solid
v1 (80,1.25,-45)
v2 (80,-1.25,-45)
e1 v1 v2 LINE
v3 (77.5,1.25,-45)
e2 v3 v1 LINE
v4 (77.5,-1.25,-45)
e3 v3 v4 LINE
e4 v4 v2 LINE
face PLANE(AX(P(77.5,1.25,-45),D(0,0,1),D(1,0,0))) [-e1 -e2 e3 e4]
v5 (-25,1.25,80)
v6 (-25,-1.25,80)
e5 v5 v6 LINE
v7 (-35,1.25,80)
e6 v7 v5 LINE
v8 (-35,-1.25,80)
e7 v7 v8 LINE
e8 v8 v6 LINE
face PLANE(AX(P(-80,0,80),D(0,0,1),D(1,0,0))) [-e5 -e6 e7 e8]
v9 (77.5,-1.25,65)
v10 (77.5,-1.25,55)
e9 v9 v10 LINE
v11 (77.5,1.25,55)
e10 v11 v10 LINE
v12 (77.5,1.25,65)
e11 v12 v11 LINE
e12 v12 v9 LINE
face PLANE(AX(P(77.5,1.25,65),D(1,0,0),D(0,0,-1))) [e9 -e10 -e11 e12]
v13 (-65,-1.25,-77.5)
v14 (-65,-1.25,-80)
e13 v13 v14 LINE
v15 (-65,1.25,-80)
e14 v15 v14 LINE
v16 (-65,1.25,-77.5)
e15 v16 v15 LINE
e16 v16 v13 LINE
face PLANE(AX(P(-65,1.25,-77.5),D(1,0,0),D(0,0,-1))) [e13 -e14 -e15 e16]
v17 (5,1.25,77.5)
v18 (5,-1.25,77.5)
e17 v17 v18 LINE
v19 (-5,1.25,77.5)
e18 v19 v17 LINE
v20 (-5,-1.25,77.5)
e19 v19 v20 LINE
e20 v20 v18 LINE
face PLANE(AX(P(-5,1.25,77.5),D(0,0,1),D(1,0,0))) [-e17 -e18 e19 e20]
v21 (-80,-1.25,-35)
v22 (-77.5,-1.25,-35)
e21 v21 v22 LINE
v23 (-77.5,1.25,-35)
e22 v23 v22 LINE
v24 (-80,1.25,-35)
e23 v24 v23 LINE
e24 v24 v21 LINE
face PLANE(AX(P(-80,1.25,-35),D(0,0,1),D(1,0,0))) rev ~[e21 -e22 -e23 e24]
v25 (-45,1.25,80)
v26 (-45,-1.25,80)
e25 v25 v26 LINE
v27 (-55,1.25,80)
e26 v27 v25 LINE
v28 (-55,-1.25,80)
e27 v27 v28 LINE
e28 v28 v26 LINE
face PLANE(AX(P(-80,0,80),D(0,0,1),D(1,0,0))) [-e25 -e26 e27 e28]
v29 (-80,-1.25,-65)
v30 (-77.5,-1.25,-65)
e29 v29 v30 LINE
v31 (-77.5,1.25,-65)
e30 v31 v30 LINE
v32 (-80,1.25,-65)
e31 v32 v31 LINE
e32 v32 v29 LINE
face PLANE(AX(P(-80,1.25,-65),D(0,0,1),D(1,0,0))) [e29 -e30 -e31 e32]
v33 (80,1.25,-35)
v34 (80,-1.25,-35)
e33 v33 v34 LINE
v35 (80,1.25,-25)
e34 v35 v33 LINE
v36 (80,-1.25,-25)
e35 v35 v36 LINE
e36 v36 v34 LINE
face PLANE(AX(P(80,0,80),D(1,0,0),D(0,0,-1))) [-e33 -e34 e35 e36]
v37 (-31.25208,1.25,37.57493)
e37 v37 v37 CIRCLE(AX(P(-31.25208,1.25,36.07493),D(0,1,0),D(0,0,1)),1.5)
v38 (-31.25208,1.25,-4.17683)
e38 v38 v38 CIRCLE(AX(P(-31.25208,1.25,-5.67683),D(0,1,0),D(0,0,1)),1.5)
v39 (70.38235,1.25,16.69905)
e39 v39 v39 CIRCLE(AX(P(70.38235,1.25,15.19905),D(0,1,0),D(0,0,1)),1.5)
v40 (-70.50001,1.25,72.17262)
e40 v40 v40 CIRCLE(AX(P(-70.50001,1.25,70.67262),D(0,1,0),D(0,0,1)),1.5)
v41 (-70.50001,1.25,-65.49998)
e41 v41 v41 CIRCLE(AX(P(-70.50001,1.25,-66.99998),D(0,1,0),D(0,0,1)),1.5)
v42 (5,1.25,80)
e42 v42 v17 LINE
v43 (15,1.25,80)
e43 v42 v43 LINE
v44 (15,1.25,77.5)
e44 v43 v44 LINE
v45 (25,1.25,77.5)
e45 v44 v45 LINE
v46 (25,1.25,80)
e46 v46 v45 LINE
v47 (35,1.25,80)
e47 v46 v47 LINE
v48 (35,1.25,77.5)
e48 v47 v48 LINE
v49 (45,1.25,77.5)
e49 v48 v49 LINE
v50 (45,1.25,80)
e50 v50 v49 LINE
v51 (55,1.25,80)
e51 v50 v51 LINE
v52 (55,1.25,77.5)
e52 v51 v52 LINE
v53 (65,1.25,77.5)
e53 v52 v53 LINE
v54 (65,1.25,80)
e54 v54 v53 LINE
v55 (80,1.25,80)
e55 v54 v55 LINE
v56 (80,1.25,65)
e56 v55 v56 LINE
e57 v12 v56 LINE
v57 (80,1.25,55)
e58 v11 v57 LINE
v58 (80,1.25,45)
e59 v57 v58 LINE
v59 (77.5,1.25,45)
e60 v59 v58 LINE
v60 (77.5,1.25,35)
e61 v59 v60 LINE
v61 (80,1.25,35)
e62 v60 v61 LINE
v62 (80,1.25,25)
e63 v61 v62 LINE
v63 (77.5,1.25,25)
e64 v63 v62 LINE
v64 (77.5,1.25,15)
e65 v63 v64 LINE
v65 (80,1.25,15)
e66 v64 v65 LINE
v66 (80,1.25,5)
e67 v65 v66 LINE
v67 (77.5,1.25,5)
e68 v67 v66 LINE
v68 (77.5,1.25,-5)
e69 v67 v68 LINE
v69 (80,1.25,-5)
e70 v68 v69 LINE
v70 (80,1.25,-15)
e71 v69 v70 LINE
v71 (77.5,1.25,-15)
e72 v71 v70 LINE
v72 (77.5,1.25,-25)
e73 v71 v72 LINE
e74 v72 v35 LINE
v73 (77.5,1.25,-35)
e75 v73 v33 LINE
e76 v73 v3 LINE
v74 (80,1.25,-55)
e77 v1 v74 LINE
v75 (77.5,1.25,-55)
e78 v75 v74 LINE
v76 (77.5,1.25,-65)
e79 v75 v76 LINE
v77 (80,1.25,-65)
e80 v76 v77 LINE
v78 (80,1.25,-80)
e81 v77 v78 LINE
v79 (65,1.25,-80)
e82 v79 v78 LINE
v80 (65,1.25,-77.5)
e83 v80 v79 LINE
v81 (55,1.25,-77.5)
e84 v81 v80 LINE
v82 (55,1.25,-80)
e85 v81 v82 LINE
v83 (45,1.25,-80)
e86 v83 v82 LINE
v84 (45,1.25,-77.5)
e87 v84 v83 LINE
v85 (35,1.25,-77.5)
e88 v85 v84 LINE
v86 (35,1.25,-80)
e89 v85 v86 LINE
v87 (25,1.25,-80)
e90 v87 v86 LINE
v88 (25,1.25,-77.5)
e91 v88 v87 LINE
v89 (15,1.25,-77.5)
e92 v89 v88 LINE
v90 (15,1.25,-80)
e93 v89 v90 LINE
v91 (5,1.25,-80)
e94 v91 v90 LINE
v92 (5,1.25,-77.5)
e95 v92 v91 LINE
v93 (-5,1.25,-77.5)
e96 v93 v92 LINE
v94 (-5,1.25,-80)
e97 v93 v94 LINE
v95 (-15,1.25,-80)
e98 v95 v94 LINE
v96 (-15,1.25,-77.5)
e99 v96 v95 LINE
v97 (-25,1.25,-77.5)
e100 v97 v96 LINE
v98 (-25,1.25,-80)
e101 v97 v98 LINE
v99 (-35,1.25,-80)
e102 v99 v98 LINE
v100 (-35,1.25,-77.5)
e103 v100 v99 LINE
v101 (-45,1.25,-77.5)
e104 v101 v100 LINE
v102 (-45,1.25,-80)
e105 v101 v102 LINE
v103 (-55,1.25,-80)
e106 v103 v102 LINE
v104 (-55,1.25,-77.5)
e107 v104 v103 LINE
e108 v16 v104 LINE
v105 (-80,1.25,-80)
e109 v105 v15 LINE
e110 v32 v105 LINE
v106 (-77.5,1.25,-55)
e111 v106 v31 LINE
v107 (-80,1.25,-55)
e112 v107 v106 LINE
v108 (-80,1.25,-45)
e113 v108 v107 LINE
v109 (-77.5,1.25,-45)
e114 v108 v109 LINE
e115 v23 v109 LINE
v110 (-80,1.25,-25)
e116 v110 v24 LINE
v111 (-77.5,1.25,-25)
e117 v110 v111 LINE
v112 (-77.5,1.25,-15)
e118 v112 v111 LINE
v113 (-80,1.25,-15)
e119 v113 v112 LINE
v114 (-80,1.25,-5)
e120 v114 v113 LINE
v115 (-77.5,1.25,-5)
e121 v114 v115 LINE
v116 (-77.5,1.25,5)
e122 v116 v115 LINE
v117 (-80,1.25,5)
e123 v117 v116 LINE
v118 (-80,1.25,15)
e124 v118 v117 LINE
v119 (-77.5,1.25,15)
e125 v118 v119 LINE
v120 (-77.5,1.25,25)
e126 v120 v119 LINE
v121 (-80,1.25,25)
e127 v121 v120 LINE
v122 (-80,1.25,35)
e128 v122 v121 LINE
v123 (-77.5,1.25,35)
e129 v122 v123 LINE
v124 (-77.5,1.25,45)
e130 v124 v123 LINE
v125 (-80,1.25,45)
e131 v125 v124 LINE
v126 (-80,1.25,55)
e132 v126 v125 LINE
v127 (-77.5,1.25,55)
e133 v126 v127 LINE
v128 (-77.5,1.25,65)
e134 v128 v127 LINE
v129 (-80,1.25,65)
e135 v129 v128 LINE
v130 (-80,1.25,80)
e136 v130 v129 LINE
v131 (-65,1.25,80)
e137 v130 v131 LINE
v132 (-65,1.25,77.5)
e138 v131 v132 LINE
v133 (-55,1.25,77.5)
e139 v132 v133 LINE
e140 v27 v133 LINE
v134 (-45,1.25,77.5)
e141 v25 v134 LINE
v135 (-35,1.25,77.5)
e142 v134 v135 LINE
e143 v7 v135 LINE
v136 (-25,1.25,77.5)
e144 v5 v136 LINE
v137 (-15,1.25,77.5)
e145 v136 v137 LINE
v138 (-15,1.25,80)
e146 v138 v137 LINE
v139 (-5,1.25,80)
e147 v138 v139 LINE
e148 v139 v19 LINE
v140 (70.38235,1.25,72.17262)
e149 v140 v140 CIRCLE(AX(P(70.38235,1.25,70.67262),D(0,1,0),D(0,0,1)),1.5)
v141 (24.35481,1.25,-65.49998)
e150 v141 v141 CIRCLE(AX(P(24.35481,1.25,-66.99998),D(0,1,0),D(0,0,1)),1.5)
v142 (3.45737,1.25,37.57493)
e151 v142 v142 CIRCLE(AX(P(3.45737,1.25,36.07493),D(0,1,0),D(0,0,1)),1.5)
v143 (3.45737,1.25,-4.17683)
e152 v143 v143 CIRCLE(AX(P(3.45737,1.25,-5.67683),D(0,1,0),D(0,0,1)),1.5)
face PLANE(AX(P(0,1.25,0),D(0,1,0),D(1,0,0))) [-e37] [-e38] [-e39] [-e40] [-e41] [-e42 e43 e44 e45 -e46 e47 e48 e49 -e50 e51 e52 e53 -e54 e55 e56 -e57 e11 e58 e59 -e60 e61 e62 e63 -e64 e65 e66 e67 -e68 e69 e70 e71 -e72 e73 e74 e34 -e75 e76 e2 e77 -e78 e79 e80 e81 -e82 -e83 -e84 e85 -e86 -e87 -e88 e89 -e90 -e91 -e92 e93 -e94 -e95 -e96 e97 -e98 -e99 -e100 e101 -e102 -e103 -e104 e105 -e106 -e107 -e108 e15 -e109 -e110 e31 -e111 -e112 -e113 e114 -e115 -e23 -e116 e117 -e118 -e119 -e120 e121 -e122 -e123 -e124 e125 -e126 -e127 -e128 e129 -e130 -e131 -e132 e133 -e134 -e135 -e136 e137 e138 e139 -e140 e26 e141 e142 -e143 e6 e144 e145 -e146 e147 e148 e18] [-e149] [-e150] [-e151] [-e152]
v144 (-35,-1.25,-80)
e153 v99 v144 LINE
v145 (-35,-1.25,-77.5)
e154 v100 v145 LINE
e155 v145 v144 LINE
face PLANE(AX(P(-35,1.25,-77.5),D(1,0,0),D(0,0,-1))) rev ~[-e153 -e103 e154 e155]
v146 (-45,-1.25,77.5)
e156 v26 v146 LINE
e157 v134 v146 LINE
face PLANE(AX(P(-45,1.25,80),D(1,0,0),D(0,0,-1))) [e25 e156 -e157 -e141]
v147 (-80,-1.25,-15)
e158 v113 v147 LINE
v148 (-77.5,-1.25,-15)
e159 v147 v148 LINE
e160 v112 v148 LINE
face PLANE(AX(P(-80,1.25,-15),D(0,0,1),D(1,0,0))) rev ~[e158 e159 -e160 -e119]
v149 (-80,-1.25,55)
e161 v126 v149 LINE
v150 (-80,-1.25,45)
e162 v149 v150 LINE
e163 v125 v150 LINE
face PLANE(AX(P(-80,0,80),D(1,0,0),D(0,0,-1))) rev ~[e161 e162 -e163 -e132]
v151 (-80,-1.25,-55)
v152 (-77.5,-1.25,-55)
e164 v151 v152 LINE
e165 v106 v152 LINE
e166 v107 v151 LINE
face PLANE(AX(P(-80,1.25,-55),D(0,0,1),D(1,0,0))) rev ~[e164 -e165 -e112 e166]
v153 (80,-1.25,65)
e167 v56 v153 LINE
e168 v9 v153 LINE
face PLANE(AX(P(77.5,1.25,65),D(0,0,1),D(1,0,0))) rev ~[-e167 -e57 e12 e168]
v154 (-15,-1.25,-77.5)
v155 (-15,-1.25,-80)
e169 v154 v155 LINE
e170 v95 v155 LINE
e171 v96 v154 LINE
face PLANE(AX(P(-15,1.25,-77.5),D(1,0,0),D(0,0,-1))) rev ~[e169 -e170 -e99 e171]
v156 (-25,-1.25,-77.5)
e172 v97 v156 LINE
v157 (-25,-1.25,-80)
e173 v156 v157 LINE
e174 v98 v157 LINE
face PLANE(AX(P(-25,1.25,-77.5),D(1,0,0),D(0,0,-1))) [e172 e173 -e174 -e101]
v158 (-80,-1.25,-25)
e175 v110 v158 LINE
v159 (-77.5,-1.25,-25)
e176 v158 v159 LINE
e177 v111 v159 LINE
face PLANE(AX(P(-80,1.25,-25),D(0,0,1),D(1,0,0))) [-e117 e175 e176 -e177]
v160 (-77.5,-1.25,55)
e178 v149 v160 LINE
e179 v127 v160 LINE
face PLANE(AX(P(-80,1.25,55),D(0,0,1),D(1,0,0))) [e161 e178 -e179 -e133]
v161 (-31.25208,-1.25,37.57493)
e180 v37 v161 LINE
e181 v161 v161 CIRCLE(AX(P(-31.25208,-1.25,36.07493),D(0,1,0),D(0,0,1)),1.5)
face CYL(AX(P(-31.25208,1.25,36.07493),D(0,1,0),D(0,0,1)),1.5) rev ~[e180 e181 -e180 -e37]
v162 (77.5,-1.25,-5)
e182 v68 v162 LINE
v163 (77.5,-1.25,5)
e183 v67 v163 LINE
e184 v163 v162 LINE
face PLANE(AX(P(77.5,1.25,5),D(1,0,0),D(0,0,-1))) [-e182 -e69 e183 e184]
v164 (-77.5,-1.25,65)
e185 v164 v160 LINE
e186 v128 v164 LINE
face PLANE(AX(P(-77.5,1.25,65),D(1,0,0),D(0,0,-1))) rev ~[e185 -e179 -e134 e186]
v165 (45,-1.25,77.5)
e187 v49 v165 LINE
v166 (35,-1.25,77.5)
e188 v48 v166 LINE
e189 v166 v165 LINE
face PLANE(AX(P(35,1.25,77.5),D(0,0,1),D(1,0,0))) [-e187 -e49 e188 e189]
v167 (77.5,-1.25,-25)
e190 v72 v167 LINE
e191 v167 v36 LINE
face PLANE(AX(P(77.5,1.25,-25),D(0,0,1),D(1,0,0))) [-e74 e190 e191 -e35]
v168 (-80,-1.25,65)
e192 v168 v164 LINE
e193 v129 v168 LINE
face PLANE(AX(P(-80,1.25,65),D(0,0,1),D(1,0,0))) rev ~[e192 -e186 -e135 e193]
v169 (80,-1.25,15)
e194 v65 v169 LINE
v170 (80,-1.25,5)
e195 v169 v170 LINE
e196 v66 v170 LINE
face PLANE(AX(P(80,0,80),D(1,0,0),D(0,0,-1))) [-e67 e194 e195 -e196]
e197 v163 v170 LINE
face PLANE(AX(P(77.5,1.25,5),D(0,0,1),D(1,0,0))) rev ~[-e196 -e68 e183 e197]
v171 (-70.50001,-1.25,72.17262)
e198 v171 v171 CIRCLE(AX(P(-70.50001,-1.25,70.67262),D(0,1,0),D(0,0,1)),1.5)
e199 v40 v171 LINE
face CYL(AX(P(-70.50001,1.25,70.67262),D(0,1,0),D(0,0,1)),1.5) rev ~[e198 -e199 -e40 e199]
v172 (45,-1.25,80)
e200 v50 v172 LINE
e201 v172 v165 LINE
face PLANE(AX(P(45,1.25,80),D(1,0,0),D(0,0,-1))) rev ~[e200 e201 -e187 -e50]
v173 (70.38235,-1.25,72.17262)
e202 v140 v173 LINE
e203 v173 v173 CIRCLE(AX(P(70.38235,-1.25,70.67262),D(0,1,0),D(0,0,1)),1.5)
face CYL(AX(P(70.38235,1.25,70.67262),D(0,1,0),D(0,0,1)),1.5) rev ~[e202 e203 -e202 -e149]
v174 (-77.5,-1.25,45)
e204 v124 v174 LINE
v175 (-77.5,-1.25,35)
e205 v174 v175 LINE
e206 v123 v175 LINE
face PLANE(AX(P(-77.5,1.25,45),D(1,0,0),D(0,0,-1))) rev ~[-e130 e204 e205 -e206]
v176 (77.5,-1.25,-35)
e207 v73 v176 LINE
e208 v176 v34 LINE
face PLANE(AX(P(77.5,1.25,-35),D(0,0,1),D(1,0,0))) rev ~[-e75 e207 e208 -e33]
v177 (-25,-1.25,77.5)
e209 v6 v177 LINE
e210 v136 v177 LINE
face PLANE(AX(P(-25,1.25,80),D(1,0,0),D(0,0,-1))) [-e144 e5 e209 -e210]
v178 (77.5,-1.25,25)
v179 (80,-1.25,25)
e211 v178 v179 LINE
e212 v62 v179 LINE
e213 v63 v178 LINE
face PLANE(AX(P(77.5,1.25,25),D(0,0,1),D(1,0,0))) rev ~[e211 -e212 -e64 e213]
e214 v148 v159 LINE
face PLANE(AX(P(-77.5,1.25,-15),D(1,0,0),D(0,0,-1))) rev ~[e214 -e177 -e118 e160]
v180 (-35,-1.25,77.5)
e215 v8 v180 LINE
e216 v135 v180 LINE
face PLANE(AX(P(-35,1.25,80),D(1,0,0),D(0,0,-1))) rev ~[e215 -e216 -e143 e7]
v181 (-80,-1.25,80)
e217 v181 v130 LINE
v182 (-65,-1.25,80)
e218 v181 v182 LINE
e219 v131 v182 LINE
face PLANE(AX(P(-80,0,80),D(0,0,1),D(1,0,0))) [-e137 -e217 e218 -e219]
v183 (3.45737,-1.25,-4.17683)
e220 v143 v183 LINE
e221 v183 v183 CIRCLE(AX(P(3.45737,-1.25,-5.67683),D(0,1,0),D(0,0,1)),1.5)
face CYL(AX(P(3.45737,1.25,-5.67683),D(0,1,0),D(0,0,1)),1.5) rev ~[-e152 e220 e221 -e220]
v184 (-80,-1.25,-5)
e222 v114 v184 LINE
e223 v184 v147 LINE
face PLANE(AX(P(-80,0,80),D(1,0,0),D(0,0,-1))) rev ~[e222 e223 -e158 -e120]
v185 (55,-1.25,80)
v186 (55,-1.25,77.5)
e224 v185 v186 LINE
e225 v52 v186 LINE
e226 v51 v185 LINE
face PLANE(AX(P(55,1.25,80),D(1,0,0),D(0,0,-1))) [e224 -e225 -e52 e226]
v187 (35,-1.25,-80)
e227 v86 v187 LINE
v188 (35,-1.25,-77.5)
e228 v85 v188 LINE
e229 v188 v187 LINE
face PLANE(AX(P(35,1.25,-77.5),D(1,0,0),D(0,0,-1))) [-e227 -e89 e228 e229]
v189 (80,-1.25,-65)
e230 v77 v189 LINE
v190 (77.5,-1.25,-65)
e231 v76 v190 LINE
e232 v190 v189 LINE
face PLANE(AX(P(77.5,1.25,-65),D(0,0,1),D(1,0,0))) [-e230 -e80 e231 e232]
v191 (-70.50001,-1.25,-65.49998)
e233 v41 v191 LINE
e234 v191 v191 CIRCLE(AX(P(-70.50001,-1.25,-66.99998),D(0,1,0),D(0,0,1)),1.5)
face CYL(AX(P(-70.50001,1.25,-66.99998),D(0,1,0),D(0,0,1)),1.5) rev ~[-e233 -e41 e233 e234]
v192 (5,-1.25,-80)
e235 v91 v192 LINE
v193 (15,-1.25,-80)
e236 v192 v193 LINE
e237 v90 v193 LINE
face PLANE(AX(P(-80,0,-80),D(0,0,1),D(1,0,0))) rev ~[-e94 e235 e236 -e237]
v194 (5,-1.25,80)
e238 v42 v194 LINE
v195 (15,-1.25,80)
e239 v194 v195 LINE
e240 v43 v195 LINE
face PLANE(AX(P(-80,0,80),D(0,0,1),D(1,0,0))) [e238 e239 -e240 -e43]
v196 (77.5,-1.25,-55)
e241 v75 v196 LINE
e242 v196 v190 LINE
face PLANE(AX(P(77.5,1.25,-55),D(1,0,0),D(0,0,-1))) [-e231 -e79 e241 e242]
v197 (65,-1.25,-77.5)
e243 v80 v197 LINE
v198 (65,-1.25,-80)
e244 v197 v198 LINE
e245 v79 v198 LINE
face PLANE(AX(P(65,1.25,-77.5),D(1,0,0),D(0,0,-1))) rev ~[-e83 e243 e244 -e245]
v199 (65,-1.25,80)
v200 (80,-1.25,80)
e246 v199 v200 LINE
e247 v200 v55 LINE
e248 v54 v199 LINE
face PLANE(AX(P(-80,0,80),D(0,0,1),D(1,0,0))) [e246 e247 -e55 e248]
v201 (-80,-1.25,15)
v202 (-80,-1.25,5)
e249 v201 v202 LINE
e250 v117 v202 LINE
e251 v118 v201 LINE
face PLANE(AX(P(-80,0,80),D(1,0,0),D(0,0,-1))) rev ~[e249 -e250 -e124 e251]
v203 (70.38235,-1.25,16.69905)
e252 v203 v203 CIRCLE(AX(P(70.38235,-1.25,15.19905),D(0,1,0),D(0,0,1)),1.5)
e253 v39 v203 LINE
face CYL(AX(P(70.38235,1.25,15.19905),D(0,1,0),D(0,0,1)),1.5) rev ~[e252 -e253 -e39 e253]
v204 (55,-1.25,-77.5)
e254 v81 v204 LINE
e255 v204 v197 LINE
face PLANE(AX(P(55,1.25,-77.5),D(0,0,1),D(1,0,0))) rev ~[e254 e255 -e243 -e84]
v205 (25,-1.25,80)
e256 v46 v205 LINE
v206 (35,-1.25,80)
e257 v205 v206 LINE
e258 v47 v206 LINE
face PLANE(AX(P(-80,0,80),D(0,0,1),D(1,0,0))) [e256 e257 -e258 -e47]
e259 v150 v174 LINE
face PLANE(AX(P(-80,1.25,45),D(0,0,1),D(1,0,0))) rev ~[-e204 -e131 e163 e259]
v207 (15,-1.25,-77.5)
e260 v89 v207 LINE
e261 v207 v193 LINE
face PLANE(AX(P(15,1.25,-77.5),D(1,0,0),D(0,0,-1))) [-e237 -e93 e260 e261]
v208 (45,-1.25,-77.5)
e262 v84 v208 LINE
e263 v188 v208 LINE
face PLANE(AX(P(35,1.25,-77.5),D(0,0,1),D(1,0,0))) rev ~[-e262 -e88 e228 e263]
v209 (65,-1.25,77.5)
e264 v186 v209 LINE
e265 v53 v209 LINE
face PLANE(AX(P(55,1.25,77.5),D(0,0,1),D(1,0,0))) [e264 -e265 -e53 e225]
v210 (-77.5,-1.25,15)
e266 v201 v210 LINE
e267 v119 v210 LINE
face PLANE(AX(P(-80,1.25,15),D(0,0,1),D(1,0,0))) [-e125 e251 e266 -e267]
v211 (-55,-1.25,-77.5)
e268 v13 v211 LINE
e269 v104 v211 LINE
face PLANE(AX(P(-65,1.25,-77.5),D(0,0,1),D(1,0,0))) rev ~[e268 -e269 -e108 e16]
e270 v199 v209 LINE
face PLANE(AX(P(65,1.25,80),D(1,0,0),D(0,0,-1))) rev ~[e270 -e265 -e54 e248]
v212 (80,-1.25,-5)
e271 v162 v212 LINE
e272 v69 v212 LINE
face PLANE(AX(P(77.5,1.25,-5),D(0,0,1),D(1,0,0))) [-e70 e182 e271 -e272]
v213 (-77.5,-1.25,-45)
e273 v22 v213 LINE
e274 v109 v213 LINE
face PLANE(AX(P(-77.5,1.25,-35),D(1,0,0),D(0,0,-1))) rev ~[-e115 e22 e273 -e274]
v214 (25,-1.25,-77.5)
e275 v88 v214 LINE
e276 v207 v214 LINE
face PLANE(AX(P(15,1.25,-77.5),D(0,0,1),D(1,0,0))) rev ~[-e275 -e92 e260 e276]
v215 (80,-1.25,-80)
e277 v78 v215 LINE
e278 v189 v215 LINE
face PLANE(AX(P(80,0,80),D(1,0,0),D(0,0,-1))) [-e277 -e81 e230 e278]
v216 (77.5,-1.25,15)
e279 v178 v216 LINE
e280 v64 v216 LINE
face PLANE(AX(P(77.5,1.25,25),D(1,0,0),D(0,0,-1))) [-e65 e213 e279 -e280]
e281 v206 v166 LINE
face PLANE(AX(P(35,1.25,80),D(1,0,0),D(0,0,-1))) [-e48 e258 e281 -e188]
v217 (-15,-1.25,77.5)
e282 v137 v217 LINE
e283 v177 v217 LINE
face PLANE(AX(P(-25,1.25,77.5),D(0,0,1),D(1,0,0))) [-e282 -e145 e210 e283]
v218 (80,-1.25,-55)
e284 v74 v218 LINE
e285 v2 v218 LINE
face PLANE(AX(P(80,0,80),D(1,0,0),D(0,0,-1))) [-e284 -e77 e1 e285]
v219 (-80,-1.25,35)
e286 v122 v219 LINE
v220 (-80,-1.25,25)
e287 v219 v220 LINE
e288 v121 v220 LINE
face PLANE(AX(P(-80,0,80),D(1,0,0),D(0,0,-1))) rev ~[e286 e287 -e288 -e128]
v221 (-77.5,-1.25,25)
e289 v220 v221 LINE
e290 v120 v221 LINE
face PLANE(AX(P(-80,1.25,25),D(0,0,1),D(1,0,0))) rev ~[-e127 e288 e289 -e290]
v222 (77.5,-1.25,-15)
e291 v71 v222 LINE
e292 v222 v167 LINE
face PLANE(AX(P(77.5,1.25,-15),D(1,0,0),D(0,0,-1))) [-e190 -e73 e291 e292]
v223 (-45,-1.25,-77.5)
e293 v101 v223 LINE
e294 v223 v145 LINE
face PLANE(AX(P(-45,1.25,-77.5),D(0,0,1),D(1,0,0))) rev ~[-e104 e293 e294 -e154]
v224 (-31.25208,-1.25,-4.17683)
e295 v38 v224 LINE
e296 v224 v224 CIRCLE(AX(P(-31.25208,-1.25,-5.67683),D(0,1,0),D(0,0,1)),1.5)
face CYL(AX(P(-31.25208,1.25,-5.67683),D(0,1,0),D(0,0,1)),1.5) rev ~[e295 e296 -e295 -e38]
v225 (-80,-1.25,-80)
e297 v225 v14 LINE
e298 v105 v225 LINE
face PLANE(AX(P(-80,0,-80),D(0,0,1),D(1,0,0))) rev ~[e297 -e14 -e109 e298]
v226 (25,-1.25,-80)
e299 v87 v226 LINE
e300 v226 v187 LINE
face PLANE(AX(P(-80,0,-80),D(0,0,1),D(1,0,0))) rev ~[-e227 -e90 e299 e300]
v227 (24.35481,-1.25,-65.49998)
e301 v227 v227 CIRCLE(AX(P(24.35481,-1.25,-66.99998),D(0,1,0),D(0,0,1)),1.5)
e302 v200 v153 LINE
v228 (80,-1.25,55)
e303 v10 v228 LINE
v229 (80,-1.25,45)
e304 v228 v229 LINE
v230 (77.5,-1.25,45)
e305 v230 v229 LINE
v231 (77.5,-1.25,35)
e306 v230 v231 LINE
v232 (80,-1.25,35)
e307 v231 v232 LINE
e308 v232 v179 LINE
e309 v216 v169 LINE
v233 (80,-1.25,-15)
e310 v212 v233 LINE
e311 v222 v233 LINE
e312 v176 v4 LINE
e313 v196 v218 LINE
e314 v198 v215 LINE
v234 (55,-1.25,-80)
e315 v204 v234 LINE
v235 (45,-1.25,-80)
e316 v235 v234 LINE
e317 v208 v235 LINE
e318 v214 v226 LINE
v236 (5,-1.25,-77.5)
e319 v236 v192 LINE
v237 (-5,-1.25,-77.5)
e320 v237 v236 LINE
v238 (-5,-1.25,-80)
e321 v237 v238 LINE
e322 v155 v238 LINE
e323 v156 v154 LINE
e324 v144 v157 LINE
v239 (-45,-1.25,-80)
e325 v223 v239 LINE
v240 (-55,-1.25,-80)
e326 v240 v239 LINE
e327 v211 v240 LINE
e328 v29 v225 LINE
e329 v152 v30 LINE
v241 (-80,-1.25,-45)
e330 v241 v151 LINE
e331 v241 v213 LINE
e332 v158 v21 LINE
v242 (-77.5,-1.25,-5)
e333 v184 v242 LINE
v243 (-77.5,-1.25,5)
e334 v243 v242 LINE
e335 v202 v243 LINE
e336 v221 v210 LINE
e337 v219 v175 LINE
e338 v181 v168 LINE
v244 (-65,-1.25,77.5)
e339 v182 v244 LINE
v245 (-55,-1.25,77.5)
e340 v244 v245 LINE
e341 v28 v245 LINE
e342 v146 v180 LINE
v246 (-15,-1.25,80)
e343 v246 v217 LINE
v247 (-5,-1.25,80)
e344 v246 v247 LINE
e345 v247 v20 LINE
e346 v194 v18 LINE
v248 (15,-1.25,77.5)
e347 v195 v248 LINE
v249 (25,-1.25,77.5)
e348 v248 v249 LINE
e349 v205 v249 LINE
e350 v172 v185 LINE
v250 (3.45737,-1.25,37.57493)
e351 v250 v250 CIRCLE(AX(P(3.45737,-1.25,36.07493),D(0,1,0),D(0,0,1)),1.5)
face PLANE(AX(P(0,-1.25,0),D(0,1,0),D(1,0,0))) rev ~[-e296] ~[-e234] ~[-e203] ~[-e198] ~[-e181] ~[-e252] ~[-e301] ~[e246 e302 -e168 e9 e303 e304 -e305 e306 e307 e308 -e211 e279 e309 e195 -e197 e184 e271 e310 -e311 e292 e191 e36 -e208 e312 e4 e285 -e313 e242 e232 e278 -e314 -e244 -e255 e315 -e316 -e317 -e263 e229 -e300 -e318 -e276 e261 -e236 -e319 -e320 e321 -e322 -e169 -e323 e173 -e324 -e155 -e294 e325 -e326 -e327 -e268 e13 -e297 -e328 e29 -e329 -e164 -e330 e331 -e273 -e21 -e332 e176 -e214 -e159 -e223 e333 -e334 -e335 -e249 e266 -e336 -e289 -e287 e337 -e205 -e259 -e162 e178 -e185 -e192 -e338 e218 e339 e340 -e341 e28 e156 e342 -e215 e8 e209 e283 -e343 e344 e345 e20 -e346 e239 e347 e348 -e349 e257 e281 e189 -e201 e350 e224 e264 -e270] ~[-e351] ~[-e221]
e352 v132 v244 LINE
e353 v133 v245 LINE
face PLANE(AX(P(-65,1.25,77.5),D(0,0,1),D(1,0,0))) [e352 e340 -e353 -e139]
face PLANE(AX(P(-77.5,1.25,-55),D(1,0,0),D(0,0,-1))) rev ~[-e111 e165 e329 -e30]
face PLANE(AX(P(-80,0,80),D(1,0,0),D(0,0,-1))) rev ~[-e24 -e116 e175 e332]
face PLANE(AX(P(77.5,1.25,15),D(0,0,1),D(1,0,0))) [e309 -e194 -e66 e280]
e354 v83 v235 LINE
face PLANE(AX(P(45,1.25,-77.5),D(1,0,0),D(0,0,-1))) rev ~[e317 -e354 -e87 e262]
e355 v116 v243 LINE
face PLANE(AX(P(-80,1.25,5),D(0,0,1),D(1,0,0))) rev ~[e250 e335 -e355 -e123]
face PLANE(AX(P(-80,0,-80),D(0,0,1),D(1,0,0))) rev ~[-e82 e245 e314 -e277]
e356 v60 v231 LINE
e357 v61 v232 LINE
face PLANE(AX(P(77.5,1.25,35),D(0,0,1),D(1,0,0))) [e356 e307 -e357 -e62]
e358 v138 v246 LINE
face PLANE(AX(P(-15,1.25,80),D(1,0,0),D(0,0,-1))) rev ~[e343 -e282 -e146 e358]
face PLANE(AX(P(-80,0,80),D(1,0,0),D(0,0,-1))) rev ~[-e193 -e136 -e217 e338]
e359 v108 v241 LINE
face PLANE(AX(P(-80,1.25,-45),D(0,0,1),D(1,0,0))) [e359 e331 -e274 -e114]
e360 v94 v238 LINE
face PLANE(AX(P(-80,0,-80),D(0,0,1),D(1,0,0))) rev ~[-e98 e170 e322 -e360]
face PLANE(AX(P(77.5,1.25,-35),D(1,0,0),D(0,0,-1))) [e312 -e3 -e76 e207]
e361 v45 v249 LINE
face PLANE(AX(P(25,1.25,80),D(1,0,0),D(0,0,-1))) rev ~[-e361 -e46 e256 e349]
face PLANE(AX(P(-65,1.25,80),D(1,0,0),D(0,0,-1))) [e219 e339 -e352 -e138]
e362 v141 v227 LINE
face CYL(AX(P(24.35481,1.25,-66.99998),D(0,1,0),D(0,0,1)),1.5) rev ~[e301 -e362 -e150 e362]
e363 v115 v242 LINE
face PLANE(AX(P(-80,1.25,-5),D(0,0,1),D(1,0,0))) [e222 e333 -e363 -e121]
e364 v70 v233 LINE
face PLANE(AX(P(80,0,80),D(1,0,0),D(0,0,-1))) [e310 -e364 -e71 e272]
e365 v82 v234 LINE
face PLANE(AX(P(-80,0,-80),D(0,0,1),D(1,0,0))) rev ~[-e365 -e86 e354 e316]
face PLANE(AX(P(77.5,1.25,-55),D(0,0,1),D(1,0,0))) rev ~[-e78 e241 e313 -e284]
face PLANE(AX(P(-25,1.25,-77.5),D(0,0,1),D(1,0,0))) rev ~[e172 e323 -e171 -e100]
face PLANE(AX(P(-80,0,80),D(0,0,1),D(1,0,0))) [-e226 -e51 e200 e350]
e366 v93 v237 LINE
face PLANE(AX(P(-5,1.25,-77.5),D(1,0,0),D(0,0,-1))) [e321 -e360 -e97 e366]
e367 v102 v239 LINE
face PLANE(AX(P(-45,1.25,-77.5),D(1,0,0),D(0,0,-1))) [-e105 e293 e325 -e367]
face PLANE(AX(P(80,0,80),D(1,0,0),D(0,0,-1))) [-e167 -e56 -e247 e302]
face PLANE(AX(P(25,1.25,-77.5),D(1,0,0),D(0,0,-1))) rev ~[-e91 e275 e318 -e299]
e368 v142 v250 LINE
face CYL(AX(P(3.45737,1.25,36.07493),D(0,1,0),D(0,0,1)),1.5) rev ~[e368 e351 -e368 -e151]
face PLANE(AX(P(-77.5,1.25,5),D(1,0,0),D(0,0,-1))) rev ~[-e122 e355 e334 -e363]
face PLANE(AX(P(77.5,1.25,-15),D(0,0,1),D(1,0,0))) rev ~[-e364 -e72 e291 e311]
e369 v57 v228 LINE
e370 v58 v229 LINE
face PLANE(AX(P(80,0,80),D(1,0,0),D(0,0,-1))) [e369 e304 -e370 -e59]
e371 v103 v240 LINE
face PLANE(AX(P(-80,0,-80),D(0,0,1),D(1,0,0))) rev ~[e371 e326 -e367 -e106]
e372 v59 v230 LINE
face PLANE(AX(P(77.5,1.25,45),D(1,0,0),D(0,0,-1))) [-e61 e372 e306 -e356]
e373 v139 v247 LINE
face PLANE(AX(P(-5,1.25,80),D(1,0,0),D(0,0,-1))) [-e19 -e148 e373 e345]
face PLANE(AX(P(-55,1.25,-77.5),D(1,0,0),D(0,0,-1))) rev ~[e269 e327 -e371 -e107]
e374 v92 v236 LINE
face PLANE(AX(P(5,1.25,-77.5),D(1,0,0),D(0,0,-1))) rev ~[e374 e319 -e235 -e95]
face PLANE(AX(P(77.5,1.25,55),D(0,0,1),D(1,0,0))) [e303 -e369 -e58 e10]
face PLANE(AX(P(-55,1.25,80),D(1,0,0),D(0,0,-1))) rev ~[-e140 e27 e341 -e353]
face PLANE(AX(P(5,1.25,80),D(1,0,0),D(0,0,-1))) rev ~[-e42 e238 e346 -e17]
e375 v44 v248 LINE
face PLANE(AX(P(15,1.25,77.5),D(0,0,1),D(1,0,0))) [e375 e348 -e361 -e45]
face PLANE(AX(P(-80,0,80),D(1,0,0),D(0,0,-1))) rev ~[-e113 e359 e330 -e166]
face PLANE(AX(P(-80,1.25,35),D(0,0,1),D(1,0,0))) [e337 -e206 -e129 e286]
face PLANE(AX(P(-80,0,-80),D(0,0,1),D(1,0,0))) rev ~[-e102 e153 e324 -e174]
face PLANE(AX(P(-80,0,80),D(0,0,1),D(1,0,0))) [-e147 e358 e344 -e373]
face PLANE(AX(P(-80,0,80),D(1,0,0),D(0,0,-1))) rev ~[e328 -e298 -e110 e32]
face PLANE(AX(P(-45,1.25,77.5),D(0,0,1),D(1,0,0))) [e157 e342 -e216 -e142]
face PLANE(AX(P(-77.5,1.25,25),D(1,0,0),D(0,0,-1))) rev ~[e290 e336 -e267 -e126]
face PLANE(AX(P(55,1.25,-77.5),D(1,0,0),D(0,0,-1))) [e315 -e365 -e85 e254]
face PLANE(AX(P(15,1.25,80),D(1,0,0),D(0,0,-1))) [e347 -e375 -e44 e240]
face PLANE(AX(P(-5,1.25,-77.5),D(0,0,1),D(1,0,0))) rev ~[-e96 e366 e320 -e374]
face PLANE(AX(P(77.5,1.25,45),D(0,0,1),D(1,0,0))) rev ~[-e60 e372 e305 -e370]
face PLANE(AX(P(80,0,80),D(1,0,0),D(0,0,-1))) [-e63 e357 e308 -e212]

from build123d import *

# Parameters (mm, degrees)
SKETCH1_W           = 160
SKETCH1_H           = 160
BOSS_EXTRUDE1_DEPTH = 1.25
SKETCH3_W           = 2.5
SKETCH3_H           = 10
SKETCH3_W_2         = 10
SKETCH3_H_2         = 2.5
CUT_EXTRUDE2_DEPTH  = 114.164702978
SKETCH2_R           = 1.5
CUT_EXTRUDE1_DEPTH  = 114.164702978


with BuildPart() as part:
    # Sketch1 → Boss-Extrude1 (new, symmetric)
    with BuildSketch(Plane(origin=(0, 0, 0), x_dir=(1, 0, 0), z_dir=(0, 1, 0))):
        Rectangle(SKETCH1_W, SKETCH1_H)
    extrude(amount=BOSS_EXTRUDE1_DEPTH, both=True)

    # Sketch3 → Cut-Extrude2 (cut, through all)
    with BuildSketch(Plane(origin=(0, 1.25, 0), x_dir=(1, 0, 0), z_dir=(0, 1, 0))):
        with Locations((-78.75, 60)):
            Rectangle(SKETCH3_W, SKETCH3_H)
        with Locations((-78.75, 40)):
            Rectangle(SKETCH3_W, SKETCH3_H)
        with Locations((-78.75, 20)):
            Rectangle(SKETCH3_W, SKETCH3_H)
        with Locations((-78.75, 0)):
            Rectangle(SKETCH3_W, SKETCH3_H)
        with Locations((-78.75, -20)):
            Rectangle(SKETCH3_W, SKETCH3_H)
        with Locations((-78.75, -40)):
            Rectangle(SKETCH3_W, SKETCH3_H)
        with Locations((-78.75, -60)):
            Rectangle(SKETCH3_W, SKETCH3_H)
        with Locations((-60, -78.75)):
            Rectangle(SKETCH3_W_2, SKETCH3_H_2)
        with Locations((-40, -78.75)):
            Rectangle(SKETCH3_W_2, SKETCH3_H_2)
        with Locations((-20, -78.75)):
            Rectangle(SKETCH3_W_2, SKETCH3_H_2)
        with Locations((0, -78.75)):
            Rectangle(SKETCH3_W_2, SKETCH3_H_2)
        with Locations((20, -78.75)):
            Rectangle(SKETCH3_W_2, SKETCH3_H_2)
        with Locations((40, -78.75)):
            Rectangle(SKETCH3_W_2, SKETCH3_H_2)
        with Locations((60, -78.75)):
            Rectangle(SKETCH3_W_2, SKETCH3_H_2)
        with Locations((78.75, -60)):
            Rectangle(SKETCH3_W, SKETCH3_H)
        with Locations((78.75, 40)):
            Rectangle(SKETCH3_W, SKETCH3_H)
        with Locations((78.75, 20)):
            Rectangle(SKETCH3_W, SKETCH3_H)
        with Locations((78.75, 0)):
            Rectangle(SKETCH3_W, SKETCH3_H)
        with Locations((78.75, -20)):
            Rectangle(SKETCH3_W, SKETCH3_H)
        with Locations((78.75, -40)):
            Rectangle(SKETCH3_W, SKETCH3_H)
        with Locations((60, 78.75)):
            Rectangle(SKETCH3_W_2, SKETCH3_H_2)
        with Locations((40, 78.75)):
            Rectangle(SKETCH3_W_2, SKETCH3_H_2)
        with Locations((20, 78.75)):
            Rectangle(SKETCH3_W_2, SKETCH3_H_2)
        with Locations((0, 78.75)):
            Rectangle(SKETCH3_W_2, SKETCH3_H_2)
        with Locations((-20, 78.75)):
            Rectangle(SKETCH3_W_2, SKETCH3_H_2)
        with Locations((-40, 78.75)):
            Rectangle(SKETCH3_W_2, SKETCH3_H_2)
        with Locations((-60, 78.75)):
            Rectangle(SKETCH3_W_2, SKETCH3_H_2)
        with Locations((78.75, 60)):
            Rectangle(SKETCH3_W, SKETCH3_H)
    extrude(amount=-CUT_EXTRUDE2_DEPTH, mode=Mode.SUBTRACT)

    # Sketch2 → Cut-Extrude1 (cut, through all)
    with BuildSketch(Plane(origin=(0, 1.25, 0), x_dir=(1, 0, 0), z_dir=(0, 1, 0))):
        with Locations(Location((24.35481, 66.99998, 0), (0, 0, 270))):
            Circle(SKETCH2_R)
        with Locations(Location((-70.50001, 66.99998, 0), (0, 0, 270))):
            Circle(SKETCH2_R)
        with Locations(Location((70.38235, -15.19905, 0), (0, 0, 270))):
            Circle(SKETCH2_R)
        with Locations(Location((-31.25208, 5.67683, 0), (0, 0, 270))):
            Circle(SKETCH2_R)
        with Locations(Location((3.45737, 5.67683, 0), (0, 0, 270))):
            Circle(SKETCH2_R)
        with Locations(Location((3.45737, -36.07493, 0), (0, 0, 270))):
            Circle(SKETCH2_R)
        with Locations(Location((-70.50001, -70.67262, 0), (0, 0, 270))):
            Circle(SKETCH2_R)
        with Locations(Location((-31.25208, -36.07493, 0), (0, 0, 270))):
            Circle(SKETCH2_R)
        with Locations(Location((70.38235, -70.67262, 0), (0, 0, 270))):
            Circle(SKETCH2_R)
    extrude(amount=-CUT_EXTRUDE1_DEPTH, mode=Mode.SUBTRACT)


solid = part.part
